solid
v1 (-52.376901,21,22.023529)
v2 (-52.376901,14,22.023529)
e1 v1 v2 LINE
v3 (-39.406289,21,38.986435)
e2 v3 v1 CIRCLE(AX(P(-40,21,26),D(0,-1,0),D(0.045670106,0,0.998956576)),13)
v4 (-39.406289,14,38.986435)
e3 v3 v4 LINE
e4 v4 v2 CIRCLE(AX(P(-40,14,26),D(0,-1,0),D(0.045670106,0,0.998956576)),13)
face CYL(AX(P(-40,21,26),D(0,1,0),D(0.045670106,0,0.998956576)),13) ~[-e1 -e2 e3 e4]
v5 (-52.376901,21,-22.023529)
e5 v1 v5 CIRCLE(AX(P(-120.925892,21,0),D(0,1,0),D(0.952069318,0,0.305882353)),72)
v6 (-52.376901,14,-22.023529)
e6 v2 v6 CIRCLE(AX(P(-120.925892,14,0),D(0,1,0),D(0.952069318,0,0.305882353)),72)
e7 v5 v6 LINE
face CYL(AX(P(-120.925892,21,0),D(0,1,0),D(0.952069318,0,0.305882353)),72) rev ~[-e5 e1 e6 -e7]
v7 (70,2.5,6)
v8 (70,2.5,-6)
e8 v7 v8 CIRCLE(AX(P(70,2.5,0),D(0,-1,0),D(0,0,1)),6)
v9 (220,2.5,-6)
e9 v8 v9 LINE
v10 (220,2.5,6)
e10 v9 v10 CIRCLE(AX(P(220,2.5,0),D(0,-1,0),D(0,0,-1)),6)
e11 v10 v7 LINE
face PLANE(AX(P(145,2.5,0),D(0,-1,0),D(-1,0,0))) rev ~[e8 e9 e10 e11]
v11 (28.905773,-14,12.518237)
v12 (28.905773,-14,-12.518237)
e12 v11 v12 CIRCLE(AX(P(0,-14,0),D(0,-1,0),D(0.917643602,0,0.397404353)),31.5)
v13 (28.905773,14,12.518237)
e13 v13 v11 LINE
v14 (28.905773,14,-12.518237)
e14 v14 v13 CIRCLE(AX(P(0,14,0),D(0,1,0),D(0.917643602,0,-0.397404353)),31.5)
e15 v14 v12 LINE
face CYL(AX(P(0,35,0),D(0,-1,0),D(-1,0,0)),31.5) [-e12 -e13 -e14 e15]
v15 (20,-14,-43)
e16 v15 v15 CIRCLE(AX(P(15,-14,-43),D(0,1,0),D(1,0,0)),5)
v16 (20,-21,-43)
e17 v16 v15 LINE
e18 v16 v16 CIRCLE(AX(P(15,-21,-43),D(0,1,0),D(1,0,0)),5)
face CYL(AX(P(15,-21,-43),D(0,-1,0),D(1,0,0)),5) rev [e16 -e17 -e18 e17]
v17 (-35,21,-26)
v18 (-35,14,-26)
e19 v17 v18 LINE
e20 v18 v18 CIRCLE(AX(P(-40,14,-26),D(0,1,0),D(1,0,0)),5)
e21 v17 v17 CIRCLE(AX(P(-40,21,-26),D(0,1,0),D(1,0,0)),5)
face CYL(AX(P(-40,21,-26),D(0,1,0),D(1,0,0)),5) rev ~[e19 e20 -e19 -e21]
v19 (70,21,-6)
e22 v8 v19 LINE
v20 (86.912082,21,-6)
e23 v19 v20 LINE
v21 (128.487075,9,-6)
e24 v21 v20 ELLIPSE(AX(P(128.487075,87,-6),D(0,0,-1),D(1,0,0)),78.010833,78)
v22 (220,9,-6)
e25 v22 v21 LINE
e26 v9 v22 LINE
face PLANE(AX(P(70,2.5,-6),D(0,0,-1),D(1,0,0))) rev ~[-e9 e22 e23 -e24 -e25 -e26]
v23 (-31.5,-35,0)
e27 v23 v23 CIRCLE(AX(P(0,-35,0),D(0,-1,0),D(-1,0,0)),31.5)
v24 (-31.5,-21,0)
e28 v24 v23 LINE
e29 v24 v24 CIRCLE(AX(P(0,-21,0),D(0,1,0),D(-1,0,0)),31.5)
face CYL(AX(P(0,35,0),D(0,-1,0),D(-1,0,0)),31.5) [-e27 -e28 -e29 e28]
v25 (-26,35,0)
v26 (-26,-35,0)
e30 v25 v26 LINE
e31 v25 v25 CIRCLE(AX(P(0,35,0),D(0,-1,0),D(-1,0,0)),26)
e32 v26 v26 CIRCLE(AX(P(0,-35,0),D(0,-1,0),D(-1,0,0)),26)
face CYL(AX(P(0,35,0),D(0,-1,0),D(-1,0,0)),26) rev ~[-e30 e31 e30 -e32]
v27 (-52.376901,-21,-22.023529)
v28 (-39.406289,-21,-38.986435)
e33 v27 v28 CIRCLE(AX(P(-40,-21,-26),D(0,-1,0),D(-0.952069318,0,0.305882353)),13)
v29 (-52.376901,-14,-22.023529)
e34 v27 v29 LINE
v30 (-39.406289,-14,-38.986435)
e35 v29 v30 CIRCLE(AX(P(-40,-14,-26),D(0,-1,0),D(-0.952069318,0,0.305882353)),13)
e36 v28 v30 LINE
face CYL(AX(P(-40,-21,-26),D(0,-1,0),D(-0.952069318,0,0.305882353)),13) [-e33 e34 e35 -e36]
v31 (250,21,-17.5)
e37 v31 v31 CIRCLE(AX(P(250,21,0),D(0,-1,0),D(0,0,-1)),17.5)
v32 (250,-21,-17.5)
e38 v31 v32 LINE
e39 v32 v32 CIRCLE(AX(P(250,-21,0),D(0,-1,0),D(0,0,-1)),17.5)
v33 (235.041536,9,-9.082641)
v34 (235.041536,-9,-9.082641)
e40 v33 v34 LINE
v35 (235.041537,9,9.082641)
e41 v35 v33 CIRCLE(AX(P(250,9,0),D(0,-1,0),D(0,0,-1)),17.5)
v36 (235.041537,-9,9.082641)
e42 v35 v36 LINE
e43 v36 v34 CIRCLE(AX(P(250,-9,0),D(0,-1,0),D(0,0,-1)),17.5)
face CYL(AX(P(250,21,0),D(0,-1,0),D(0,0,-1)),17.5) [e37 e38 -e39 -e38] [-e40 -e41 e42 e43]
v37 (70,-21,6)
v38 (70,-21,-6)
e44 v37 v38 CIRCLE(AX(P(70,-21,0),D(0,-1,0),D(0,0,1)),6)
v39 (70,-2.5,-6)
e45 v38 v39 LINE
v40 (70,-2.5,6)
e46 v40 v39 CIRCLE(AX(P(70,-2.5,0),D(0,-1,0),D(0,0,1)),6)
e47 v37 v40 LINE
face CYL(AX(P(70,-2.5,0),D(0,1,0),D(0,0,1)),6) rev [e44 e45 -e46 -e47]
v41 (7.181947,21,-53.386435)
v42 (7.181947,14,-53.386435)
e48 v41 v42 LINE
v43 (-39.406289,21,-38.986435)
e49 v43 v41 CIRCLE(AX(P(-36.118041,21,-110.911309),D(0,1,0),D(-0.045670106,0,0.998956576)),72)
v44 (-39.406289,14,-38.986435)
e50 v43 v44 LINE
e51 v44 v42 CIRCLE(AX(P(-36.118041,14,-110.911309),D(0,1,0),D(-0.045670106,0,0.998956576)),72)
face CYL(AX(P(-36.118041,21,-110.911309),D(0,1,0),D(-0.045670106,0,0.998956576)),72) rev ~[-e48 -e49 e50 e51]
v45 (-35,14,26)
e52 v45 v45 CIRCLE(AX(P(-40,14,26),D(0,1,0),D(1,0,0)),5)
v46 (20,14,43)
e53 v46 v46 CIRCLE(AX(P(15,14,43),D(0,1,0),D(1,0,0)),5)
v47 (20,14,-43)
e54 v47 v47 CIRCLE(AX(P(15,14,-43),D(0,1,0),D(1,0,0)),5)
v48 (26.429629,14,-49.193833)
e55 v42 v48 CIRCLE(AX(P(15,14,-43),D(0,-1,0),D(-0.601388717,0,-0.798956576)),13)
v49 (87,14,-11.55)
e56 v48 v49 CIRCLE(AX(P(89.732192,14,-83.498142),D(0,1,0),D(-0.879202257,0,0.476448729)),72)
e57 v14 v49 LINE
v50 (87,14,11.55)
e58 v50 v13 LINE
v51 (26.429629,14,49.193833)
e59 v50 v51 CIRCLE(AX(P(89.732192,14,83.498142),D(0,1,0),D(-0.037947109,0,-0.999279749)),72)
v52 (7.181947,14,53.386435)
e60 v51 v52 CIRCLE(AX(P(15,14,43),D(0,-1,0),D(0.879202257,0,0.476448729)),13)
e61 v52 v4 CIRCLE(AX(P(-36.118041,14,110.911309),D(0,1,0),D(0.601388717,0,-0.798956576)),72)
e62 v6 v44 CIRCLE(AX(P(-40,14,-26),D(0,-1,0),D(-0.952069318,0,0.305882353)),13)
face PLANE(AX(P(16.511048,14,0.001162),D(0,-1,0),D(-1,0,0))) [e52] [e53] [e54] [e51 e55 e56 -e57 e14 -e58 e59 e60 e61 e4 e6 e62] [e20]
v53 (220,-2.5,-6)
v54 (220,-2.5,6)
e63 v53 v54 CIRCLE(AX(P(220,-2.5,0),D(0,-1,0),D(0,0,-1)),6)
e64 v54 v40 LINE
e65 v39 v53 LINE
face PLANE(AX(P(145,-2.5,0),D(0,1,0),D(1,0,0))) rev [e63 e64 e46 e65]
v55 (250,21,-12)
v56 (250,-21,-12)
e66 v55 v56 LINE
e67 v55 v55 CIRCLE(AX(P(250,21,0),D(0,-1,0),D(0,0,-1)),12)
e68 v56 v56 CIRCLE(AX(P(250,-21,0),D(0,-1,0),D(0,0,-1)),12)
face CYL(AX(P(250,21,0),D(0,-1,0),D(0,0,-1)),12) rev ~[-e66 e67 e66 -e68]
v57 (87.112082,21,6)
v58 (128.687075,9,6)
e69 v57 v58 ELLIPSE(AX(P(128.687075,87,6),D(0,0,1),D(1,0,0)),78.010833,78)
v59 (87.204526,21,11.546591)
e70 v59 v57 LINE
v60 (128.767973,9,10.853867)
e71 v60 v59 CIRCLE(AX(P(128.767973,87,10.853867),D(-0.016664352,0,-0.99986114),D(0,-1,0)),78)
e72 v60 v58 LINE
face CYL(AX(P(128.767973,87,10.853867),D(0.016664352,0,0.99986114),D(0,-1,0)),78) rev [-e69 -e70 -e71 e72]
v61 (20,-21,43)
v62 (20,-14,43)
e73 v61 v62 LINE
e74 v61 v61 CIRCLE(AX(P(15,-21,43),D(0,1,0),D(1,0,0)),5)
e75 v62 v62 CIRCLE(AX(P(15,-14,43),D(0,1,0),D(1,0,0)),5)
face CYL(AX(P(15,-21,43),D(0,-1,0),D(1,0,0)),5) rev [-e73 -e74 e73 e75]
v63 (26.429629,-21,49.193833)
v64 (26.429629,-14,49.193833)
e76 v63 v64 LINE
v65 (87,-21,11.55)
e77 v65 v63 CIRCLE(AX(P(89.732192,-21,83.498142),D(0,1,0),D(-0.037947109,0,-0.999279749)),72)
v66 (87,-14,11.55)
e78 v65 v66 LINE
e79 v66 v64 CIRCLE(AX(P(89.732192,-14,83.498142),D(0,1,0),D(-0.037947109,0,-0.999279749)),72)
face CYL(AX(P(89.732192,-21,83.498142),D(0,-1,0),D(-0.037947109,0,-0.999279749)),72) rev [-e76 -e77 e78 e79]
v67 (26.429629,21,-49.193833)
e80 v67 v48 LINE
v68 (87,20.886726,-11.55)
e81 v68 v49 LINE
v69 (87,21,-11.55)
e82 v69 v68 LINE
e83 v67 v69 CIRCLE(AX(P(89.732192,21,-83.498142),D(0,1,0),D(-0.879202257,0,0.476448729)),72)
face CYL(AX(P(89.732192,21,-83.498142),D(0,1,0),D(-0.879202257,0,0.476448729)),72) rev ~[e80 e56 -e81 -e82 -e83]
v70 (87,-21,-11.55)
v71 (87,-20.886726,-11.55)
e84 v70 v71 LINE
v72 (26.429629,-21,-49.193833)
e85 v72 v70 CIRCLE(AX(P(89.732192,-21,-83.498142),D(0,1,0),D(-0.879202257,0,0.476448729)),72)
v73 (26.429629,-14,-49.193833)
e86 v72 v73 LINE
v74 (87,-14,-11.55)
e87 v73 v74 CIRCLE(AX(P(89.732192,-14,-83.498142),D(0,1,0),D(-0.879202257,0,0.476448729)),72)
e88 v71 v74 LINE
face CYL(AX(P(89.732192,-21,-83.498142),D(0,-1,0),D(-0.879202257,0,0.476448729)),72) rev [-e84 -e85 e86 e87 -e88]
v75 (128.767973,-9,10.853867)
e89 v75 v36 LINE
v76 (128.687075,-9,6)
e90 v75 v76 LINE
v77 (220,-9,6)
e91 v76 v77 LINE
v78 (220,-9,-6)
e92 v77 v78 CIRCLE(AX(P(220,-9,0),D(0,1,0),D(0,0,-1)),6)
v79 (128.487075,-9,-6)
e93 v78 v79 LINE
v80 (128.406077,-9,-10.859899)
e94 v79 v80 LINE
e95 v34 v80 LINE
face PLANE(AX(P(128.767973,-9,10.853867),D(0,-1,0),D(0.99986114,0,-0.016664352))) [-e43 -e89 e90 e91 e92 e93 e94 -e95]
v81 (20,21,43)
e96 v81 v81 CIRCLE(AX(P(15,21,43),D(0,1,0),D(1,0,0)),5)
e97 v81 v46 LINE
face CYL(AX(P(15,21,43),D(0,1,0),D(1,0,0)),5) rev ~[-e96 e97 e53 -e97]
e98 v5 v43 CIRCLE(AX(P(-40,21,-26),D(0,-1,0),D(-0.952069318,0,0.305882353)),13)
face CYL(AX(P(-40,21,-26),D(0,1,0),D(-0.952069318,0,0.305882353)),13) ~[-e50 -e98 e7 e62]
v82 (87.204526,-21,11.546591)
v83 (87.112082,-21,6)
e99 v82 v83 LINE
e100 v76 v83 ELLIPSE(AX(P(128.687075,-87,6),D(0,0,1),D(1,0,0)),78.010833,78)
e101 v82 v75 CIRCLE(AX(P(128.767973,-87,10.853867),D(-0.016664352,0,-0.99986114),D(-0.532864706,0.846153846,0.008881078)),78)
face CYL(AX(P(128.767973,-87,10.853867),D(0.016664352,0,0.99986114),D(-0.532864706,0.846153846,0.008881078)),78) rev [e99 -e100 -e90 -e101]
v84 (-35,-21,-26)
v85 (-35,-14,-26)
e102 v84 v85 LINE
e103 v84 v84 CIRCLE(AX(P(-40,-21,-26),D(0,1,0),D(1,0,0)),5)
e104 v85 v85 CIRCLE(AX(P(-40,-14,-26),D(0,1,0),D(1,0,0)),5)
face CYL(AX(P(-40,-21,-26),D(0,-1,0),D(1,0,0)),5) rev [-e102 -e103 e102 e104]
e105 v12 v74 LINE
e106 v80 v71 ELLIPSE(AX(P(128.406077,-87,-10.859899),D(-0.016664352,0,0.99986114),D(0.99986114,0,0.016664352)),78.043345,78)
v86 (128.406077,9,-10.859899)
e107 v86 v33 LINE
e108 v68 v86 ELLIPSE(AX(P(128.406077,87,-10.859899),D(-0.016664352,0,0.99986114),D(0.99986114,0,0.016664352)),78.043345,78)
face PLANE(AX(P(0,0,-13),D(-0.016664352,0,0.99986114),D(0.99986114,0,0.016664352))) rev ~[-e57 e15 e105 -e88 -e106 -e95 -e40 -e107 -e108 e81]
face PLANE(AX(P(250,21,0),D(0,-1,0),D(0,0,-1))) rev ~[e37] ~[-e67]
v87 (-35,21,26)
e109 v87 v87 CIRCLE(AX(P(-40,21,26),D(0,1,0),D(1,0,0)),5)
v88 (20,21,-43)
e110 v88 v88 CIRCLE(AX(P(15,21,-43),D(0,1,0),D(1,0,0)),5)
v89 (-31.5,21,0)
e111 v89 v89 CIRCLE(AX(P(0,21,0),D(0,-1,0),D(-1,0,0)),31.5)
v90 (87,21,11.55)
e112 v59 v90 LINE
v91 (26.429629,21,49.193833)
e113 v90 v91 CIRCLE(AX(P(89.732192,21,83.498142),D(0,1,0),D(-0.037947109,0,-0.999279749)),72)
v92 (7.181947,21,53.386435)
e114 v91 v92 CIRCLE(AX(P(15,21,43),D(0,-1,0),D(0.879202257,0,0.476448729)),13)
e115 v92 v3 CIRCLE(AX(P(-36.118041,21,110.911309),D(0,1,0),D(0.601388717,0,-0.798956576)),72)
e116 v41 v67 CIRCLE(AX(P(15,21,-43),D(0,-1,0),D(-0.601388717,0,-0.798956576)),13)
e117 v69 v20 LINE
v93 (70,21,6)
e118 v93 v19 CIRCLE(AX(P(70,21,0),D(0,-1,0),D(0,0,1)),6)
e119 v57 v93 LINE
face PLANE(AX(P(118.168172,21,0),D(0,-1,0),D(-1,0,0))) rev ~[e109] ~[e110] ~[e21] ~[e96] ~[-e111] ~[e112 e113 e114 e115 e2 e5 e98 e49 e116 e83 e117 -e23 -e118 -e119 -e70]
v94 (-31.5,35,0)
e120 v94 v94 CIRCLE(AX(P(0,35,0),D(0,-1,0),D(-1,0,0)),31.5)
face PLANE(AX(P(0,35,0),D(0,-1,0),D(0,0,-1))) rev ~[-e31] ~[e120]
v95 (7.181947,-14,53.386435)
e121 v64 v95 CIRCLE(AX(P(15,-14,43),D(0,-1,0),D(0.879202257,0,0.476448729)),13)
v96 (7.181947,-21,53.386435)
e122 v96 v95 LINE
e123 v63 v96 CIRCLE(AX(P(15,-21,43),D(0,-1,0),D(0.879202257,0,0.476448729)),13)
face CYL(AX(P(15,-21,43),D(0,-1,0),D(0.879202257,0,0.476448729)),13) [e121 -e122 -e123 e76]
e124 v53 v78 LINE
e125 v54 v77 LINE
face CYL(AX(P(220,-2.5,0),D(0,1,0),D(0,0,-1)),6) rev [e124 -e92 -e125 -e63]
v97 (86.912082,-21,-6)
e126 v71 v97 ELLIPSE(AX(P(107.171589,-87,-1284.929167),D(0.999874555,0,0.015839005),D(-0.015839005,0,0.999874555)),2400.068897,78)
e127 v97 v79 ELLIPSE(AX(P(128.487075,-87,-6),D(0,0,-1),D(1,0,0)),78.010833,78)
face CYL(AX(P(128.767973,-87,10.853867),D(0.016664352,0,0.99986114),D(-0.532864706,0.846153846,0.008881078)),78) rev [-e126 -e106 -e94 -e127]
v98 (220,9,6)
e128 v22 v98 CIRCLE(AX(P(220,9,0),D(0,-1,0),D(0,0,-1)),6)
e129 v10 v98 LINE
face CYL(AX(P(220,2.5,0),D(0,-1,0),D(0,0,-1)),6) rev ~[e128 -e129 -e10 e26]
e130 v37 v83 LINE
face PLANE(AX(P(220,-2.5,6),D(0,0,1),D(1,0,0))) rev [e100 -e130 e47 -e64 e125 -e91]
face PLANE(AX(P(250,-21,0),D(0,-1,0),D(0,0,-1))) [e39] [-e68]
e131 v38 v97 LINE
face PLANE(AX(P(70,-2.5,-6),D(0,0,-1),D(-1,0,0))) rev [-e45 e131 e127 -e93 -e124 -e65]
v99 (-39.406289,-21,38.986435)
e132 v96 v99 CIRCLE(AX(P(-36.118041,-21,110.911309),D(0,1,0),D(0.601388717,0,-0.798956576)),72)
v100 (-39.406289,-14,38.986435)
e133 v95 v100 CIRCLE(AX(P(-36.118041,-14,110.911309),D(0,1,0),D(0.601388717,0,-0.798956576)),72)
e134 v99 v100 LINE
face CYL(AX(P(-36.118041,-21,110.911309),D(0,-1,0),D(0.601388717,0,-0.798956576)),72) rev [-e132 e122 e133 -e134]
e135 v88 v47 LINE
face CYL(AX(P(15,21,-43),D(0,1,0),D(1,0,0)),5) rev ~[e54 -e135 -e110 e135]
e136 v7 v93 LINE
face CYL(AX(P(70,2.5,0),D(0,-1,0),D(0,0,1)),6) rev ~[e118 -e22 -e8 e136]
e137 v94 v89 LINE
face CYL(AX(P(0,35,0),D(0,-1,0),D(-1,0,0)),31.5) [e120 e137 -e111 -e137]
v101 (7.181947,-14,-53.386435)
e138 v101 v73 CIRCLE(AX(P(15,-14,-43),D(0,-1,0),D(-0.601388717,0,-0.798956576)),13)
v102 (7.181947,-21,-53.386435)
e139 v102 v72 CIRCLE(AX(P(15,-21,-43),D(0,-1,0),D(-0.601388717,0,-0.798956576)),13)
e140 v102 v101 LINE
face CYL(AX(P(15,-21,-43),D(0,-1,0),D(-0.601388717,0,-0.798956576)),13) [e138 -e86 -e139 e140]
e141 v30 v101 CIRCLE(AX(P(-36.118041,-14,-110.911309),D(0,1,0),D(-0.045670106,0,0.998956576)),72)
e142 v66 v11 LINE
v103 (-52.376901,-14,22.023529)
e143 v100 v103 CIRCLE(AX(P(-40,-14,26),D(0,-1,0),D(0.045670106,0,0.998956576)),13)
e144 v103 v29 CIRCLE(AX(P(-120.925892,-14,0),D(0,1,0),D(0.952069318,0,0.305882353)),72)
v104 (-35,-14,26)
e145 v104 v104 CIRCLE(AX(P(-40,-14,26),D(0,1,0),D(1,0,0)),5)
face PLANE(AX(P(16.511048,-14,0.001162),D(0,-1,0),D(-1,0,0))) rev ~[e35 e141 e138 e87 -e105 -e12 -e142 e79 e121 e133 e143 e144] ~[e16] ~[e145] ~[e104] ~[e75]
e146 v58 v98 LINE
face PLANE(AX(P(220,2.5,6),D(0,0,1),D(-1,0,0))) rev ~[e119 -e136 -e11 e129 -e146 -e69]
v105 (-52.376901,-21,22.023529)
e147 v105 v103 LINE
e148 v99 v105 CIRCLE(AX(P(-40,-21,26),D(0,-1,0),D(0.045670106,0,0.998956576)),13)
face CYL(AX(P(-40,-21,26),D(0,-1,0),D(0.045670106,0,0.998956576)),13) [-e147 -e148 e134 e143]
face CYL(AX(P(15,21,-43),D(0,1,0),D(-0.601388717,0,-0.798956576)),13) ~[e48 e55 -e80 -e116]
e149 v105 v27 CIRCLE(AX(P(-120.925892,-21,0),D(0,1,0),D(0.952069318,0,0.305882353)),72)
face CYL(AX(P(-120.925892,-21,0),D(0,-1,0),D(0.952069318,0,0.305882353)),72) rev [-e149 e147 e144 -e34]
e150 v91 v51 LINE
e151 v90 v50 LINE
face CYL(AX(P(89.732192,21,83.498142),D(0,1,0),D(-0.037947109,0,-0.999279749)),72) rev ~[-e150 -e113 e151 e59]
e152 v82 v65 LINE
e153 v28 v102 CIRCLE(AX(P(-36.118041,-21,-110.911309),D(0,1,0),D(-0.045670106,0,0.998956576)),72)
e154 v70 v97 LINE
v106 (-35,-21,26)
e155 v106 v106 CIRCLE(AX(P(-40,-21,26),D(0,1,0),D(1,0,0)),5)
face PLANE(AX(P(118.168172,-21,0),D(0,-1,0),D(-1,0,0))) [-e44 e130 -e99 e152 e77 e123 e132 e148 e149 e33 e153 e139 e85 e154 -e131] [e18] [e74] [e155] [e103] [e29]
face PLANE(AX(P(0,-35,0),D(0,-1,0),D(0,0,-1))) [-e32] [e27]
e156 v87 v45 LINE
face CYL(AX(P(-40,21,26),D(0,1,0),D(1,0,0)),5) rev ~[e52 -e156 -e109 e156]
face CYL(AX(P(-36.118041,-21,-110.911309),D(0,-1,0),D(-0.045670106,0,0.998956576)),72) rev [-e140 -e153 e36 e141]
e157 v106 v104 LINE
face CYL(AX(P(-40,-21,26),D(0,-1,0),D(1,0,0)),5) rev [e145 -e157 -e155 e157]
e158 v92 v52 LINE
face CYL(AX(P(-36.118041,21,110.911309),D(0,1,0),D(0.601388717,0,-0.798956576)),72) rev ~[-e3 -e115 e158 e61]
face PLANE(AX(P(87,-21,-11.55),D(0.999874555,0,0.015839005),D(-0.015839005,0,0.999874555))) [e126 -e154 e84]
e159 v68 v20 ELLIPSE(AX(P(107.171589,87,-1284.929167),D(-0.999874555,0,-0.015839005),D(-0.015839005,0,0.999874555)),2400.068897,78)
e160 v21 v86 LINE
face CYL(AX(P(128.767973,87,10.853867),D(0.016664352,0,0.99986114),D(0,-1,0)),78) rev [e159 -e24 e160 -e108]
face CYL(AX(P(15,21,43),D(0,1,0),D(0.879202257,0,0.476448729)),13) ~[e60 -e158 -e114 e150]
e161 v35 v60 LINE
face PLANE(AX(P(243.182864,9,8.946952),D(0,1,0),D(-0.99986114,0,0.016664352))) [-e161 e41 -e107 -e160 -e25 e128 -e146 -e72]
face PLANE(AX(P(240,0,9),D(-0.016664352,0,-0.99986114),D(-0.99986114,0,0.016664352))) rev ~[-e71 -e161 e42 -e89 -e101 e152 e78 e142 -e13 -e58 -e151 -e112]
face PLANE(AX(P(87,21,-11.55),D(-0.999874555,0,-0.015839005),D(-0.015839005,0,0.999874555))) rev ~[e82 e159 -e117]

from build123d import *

# Parameters (mm, degrees)
SWEEP2_PROFILE_R     = 31.5
BOSS_EXTRUDE2_DEPTH  = 21
CUT_EXTRUDE4_REACH   = 47.019
SWEEP4_PROFILE_R     = 17.5
CUT_EXTRUDE5_START   = 2.5
CUT_EXTRUDE5_DEPTH   = 18.5
BOSS_EXTRUDE5_START  = 21
SKETCH47_R           = 5
BOSS_EXTRUDE5_DEPTH  = 7
BOSS_EXTRUDE6_START  = -21
SKETCH47_3_R         = 5
BOSS_EXTRUDE6_DEPTH  = 7
CUT_SWEEP1_PROFILE_R = 26
CUT_SWEEP2_PROFILE_R = 12


with BuildPart() as part:
    # Sweep2: sweep along a path in Sketch1
    with BuildLine(Plane.XY) as sweep2_path:
        Line((0, 35), (0, -35))
    # Sweep2 profile (on start of the path) → Sweep2 (sweep)
    with BuildSketch(Plane(origin=(0, 35, 0), x_dir=(-1, 0, 0), z_dir=(0, -1, 0))):
        Circle(SWEEP2_PROFILE_R)
    sweep(path=sweep2_path.line)

    # Sketch22 → Boss-Extrude2 (add, symmetric)
    with BuildSketch(Plane(origin=(0, 0, 0), x_dir=(1, 0, 0), z_dir=(0, 1, 0))):
        Polygon((0, 13), (240, 9), (240, -9), (0, -13), align=None)
    extrude(amount=BOSS_EXTRUDE2_DEPTH, both=True)

    # Sketch34 → Cut-Extrude4 (cut, up to next)
    with BuildSketch(Plane(origin=(0.216606498, 0, 12.996389892), x_dir=(0.99986114, 0, -0.016664352), z_dir=(0.016664352, 0, 0.99986114)), mode=Mode.PRIVATE) as cut_extrude4_sk1:
        with BuildLine():
            Line((87, 21), (243, 21))
            Line((243, 21), (243, 9))
            Line((243, 9), (128.569219382, 9))
            ThreePointArc((128.569219382, 9), (106.935911729, 12.060024019), (87, 21))
        make_face()
    cut_extrude4_tool1 = extrude(cut_extrude4_sk1.sketch, amount=-CUT_EXTRUDE4_REACH, mode=Mode.PRIVATE) & part.part
    add(cut_extrude4_tool1.solids().sort_by_distance((171.561444, 15.230505, 10.140643))[0], mode=Mode.SUBTRACT)
    # Sketch34 → Cut-Extrude4 (cut, up to next)
    with BuildSketch(Plane(origin=(0.216606498, 0, 12.996389892), x_dir=(0.99986114, 0, -0.016664352), z_dir=(0.016664352, 0, 0.99986114)), mode=Mode.PRIVATE) as cut_extrude4_sk2:
        with BuildLine():
            Line((128.569219382, -9), (243, -9))
            Line((243, -9), (243, -21))
            Line((243, -21), (87, -21))
            ThreePointArc((87, -21), (106.935911729, -12.060024019), (128.569219382, -9))
        make_face()
    cut_extrude4_tool2 = extrude(cut_extrude4_sk2.sketch, amount=-CUT_EXTRUDE4_REACH, mode=Mode.PRIVATE) & part.part
    add(cut_extrude4_tool2.solids().sort_by_distance((171.561444, -15.230505, 10.140643))[0], mode=Mode.SUBTRACT)

    # Sweep4: sweep along a path in Sketch35
    with BuildLine(Plane.XY) as sweep4_path:
        Line((250, 21), (250, -21))
    # Sweep4 profile (on start of the path) → Sweep4 (sweep)
    with BuildSketch(Plane(origin=(250, 21, 0), x_dir=(0, 0, -1), z_dir=(0, -1, 0))):
        Circle(SWEEP4_PROFILE_R)
    sweep(path=sweep4_path.line)

    # Sketch43 → Cut-Extrude5 (cut)
    with BuildSketch(Plane(origin=(0, 0, 0), x_dir=(1, 0, 0), z_dir=(0, 1, 0)).offset(CUT_EXTRUDE5_START)):
        with BuildLine():
            Line((70, 6), (220, 6))
            ThreePointArc((220, 6), (226, 0), (220, -6))
            Line((220, -6), (70, -6))
            ThreePointArc((70, -6), (64, 0), (70, 6))
        make_face()
    cut_extrude5 = extrude(amount=CUT_EXTRUDE5_DEPTH, mode=Mode.SUBTRACT)

    # Mirror2: Cut-Extrude5 across plane
    add(cut_extrude5.mirror(Plane.ZX), mode=Mode.SUBTRACT)

    # Sketch47 → Boss-Extrude5 (add)
    with BuildSketch(Plane(origin=(0, 0, 0), x_dir=(1, 0, 0), z_dir=(0, 1, 0)).offset(BOSS_EXTRUDE5_START)):
        with BuildLine():
            Line((87, -6), (87, -11.55))
            ThreePointArc((87, -11.55), (51.726774535, -22.345969003), (26.429629343, -49.193833472))
            ThreePointArc((26.429629343, -49.193833472), (17.766830002, -55.702151461), (7.181946677, -53.386435492))
            ThreePointArc((7.181946677, -53.386435492), (-14.855989459, -42.122318837), (-39.406288617, -38.986435492))
            ThreePointArc((-39.406288617, -38.986435492), (-50.326951915, -33.896458963), (-52.376901133, -22.023529412))
            ThreePointArc((-52.376901133, -22.023529412), (-48.925892025, 0), (-52.376901133, 22.023529412))
            ThreePointArc((-52.376901133, 22.023529412), (-50.326951915, 33.896458963), (-39.406288617, 38.986435492))
            ThreePointArc((-39.406288617, 38.986435492), (-14.855989459, 42.122318837), (7.181946677, 53.386435492))
            ThreePointArc((7.181946677, 53.386435492), (17.766830002, 55.702151461), (26.429629343, 49.193833472))
            ThreePointArc((26.429629343, 49.193833472), (51.726774535, 22.345969003), (87, 11.55))
            Line((87, 11.55), (86.912082494, 6))
            Line((86.912082494, 6), (70, 6))
            ThreePointArc((70, 6), (64, 0), (70, -6))
            Line((70, -6), (87, -6))
        make_face()
        with Locations((15, 43)):
            Circle(SKETCH47_R, mode=Mode.SUBTRACT)
        with Locations((-40, 26)):
            Circle(SKETCH47_R, mode=Mode.SUBTRACT)
        with Locations((-40, -26)):
            Circle(SKETCH47_R, mode=Mode.SUBTRACT)
        with Locations((15, -43)):
            Circle(SKETCH47_R, mode=Mode.SUBTRACT)
    extrude(amount=-BOSS_EXTRUDE5_DEPTH)

    # Sketch47<3> → Boss-Extrude6 (add)
    with BuildSketch(Plane(origin=(0, 0, 0), x_dir=(1, 0, 0), z_dir=(0, 1, 0)).offset(BOSS_EXTRUDE6_START)):
        with BuildLine():
            Line((87, -6), (87, -11.55))
            ThreePointArc((87, -11.55), (51.726774535, -22.345969003), (26.429629343, -49.193833472))
            ThreePointArc((26.429629343, -49.193833472), (17.766830002, -55.702151461), (7.181946677, -53.386435492))
            ThreePointArc((7.181946677, -53.386435492), (-14.855989459, -42.122318837), (-39.406288617, -38.986435492))
            ThreePointArc((-39.406288617, -38.986435492), (-50.326951915, -33.896458963), (-52.376901133, -22.023529412))
            ThreePointArc((-52.376901133, -22.023529412), (-48.925892025, 0), (-52.376901133, 22.023529412))
            ThreePointArc((-52.376901133, 22.023529412), (-50.326951915, 33.896458963), (-39.406288617, 38.986435492))
            ThreePointArc((-39.406288617, 38.986435492), (-14.855989459, 42.122318837), (7.181946677, 53.386435492))
            ThreePointArc((7.181946677, 53.386435492), (17.766830002, 55.702151461), (26.429629343, 49.193833472))
            ThreePointArc((26.429629343, 49.193833472), (51.726774535, 22.345969003), (87, 11.55))
            Line((87, 11.55), (86.912082494, 6))
            Line((86.912082494, 6), (70, 6))
            ThreePointArc((70, 6), (64, 0), (70, -6))
            Line((70, -6), (87, -6))
        make_face()
        with Locations((15, 43)):
            Circle(SKETCH47_3_R, mode=Mode.SUBTRACT)
        with Locations((-40, 26)):
            Circle(SKETCH47_3_R, mode=Mode.SUBTRACT)
        with Locations((-40, -26)):
            Circle(SKETCH47_3_R, mode=Mode.SUBTRACT)
        with Locations((15, -43)):
            Circle(SKETCH47_3_R, mode=Mode.SUBTRACT)
    extrude(amount=BOSS_EXTRUDE6_DEPTH)

    # Cut-Sweep1: sweep along a path in Sketch1<4>
    with BuildLine(Plane.XY) as cut_sweep1_path:
        Line((0, 35), (0, -35))
    # Cut-Sweep1 profile (on start of the path) → Cut-Sweep1 (sweep, cut)
    with BuildSketch(Plane(origin=(0, 35, 0), x_dir=(-1, 0, 0), z_dir=(0, -1, 0))):
        Circle(CUT_SWEEP1_PROFILE_R)
    sweep(path=cut_sweep1_path.line, mode=Mode.SUBTRACT)

    # Cut-Sweep2: sweep along a path in Sketch35<2>
    with BuildLine(Plane.XY) as cut_sweep2_path:
        Line((250, 21), (250, -21))
    # Cut-Sweep2 profile (on start of the path) → Cut-Sweep2 (sweep, cut)
    with BuildSketch(Plane(origin=(250, 21, 0), x_dir=(0, 0, -1), z_dir=(0, -1, 0))):
        Circle(CUT_SWEEP2_PROFILE_R)
    sweep(path=cut_sweep2_path.line, mode=Mode.SUBTRACT)


solid = part.part
